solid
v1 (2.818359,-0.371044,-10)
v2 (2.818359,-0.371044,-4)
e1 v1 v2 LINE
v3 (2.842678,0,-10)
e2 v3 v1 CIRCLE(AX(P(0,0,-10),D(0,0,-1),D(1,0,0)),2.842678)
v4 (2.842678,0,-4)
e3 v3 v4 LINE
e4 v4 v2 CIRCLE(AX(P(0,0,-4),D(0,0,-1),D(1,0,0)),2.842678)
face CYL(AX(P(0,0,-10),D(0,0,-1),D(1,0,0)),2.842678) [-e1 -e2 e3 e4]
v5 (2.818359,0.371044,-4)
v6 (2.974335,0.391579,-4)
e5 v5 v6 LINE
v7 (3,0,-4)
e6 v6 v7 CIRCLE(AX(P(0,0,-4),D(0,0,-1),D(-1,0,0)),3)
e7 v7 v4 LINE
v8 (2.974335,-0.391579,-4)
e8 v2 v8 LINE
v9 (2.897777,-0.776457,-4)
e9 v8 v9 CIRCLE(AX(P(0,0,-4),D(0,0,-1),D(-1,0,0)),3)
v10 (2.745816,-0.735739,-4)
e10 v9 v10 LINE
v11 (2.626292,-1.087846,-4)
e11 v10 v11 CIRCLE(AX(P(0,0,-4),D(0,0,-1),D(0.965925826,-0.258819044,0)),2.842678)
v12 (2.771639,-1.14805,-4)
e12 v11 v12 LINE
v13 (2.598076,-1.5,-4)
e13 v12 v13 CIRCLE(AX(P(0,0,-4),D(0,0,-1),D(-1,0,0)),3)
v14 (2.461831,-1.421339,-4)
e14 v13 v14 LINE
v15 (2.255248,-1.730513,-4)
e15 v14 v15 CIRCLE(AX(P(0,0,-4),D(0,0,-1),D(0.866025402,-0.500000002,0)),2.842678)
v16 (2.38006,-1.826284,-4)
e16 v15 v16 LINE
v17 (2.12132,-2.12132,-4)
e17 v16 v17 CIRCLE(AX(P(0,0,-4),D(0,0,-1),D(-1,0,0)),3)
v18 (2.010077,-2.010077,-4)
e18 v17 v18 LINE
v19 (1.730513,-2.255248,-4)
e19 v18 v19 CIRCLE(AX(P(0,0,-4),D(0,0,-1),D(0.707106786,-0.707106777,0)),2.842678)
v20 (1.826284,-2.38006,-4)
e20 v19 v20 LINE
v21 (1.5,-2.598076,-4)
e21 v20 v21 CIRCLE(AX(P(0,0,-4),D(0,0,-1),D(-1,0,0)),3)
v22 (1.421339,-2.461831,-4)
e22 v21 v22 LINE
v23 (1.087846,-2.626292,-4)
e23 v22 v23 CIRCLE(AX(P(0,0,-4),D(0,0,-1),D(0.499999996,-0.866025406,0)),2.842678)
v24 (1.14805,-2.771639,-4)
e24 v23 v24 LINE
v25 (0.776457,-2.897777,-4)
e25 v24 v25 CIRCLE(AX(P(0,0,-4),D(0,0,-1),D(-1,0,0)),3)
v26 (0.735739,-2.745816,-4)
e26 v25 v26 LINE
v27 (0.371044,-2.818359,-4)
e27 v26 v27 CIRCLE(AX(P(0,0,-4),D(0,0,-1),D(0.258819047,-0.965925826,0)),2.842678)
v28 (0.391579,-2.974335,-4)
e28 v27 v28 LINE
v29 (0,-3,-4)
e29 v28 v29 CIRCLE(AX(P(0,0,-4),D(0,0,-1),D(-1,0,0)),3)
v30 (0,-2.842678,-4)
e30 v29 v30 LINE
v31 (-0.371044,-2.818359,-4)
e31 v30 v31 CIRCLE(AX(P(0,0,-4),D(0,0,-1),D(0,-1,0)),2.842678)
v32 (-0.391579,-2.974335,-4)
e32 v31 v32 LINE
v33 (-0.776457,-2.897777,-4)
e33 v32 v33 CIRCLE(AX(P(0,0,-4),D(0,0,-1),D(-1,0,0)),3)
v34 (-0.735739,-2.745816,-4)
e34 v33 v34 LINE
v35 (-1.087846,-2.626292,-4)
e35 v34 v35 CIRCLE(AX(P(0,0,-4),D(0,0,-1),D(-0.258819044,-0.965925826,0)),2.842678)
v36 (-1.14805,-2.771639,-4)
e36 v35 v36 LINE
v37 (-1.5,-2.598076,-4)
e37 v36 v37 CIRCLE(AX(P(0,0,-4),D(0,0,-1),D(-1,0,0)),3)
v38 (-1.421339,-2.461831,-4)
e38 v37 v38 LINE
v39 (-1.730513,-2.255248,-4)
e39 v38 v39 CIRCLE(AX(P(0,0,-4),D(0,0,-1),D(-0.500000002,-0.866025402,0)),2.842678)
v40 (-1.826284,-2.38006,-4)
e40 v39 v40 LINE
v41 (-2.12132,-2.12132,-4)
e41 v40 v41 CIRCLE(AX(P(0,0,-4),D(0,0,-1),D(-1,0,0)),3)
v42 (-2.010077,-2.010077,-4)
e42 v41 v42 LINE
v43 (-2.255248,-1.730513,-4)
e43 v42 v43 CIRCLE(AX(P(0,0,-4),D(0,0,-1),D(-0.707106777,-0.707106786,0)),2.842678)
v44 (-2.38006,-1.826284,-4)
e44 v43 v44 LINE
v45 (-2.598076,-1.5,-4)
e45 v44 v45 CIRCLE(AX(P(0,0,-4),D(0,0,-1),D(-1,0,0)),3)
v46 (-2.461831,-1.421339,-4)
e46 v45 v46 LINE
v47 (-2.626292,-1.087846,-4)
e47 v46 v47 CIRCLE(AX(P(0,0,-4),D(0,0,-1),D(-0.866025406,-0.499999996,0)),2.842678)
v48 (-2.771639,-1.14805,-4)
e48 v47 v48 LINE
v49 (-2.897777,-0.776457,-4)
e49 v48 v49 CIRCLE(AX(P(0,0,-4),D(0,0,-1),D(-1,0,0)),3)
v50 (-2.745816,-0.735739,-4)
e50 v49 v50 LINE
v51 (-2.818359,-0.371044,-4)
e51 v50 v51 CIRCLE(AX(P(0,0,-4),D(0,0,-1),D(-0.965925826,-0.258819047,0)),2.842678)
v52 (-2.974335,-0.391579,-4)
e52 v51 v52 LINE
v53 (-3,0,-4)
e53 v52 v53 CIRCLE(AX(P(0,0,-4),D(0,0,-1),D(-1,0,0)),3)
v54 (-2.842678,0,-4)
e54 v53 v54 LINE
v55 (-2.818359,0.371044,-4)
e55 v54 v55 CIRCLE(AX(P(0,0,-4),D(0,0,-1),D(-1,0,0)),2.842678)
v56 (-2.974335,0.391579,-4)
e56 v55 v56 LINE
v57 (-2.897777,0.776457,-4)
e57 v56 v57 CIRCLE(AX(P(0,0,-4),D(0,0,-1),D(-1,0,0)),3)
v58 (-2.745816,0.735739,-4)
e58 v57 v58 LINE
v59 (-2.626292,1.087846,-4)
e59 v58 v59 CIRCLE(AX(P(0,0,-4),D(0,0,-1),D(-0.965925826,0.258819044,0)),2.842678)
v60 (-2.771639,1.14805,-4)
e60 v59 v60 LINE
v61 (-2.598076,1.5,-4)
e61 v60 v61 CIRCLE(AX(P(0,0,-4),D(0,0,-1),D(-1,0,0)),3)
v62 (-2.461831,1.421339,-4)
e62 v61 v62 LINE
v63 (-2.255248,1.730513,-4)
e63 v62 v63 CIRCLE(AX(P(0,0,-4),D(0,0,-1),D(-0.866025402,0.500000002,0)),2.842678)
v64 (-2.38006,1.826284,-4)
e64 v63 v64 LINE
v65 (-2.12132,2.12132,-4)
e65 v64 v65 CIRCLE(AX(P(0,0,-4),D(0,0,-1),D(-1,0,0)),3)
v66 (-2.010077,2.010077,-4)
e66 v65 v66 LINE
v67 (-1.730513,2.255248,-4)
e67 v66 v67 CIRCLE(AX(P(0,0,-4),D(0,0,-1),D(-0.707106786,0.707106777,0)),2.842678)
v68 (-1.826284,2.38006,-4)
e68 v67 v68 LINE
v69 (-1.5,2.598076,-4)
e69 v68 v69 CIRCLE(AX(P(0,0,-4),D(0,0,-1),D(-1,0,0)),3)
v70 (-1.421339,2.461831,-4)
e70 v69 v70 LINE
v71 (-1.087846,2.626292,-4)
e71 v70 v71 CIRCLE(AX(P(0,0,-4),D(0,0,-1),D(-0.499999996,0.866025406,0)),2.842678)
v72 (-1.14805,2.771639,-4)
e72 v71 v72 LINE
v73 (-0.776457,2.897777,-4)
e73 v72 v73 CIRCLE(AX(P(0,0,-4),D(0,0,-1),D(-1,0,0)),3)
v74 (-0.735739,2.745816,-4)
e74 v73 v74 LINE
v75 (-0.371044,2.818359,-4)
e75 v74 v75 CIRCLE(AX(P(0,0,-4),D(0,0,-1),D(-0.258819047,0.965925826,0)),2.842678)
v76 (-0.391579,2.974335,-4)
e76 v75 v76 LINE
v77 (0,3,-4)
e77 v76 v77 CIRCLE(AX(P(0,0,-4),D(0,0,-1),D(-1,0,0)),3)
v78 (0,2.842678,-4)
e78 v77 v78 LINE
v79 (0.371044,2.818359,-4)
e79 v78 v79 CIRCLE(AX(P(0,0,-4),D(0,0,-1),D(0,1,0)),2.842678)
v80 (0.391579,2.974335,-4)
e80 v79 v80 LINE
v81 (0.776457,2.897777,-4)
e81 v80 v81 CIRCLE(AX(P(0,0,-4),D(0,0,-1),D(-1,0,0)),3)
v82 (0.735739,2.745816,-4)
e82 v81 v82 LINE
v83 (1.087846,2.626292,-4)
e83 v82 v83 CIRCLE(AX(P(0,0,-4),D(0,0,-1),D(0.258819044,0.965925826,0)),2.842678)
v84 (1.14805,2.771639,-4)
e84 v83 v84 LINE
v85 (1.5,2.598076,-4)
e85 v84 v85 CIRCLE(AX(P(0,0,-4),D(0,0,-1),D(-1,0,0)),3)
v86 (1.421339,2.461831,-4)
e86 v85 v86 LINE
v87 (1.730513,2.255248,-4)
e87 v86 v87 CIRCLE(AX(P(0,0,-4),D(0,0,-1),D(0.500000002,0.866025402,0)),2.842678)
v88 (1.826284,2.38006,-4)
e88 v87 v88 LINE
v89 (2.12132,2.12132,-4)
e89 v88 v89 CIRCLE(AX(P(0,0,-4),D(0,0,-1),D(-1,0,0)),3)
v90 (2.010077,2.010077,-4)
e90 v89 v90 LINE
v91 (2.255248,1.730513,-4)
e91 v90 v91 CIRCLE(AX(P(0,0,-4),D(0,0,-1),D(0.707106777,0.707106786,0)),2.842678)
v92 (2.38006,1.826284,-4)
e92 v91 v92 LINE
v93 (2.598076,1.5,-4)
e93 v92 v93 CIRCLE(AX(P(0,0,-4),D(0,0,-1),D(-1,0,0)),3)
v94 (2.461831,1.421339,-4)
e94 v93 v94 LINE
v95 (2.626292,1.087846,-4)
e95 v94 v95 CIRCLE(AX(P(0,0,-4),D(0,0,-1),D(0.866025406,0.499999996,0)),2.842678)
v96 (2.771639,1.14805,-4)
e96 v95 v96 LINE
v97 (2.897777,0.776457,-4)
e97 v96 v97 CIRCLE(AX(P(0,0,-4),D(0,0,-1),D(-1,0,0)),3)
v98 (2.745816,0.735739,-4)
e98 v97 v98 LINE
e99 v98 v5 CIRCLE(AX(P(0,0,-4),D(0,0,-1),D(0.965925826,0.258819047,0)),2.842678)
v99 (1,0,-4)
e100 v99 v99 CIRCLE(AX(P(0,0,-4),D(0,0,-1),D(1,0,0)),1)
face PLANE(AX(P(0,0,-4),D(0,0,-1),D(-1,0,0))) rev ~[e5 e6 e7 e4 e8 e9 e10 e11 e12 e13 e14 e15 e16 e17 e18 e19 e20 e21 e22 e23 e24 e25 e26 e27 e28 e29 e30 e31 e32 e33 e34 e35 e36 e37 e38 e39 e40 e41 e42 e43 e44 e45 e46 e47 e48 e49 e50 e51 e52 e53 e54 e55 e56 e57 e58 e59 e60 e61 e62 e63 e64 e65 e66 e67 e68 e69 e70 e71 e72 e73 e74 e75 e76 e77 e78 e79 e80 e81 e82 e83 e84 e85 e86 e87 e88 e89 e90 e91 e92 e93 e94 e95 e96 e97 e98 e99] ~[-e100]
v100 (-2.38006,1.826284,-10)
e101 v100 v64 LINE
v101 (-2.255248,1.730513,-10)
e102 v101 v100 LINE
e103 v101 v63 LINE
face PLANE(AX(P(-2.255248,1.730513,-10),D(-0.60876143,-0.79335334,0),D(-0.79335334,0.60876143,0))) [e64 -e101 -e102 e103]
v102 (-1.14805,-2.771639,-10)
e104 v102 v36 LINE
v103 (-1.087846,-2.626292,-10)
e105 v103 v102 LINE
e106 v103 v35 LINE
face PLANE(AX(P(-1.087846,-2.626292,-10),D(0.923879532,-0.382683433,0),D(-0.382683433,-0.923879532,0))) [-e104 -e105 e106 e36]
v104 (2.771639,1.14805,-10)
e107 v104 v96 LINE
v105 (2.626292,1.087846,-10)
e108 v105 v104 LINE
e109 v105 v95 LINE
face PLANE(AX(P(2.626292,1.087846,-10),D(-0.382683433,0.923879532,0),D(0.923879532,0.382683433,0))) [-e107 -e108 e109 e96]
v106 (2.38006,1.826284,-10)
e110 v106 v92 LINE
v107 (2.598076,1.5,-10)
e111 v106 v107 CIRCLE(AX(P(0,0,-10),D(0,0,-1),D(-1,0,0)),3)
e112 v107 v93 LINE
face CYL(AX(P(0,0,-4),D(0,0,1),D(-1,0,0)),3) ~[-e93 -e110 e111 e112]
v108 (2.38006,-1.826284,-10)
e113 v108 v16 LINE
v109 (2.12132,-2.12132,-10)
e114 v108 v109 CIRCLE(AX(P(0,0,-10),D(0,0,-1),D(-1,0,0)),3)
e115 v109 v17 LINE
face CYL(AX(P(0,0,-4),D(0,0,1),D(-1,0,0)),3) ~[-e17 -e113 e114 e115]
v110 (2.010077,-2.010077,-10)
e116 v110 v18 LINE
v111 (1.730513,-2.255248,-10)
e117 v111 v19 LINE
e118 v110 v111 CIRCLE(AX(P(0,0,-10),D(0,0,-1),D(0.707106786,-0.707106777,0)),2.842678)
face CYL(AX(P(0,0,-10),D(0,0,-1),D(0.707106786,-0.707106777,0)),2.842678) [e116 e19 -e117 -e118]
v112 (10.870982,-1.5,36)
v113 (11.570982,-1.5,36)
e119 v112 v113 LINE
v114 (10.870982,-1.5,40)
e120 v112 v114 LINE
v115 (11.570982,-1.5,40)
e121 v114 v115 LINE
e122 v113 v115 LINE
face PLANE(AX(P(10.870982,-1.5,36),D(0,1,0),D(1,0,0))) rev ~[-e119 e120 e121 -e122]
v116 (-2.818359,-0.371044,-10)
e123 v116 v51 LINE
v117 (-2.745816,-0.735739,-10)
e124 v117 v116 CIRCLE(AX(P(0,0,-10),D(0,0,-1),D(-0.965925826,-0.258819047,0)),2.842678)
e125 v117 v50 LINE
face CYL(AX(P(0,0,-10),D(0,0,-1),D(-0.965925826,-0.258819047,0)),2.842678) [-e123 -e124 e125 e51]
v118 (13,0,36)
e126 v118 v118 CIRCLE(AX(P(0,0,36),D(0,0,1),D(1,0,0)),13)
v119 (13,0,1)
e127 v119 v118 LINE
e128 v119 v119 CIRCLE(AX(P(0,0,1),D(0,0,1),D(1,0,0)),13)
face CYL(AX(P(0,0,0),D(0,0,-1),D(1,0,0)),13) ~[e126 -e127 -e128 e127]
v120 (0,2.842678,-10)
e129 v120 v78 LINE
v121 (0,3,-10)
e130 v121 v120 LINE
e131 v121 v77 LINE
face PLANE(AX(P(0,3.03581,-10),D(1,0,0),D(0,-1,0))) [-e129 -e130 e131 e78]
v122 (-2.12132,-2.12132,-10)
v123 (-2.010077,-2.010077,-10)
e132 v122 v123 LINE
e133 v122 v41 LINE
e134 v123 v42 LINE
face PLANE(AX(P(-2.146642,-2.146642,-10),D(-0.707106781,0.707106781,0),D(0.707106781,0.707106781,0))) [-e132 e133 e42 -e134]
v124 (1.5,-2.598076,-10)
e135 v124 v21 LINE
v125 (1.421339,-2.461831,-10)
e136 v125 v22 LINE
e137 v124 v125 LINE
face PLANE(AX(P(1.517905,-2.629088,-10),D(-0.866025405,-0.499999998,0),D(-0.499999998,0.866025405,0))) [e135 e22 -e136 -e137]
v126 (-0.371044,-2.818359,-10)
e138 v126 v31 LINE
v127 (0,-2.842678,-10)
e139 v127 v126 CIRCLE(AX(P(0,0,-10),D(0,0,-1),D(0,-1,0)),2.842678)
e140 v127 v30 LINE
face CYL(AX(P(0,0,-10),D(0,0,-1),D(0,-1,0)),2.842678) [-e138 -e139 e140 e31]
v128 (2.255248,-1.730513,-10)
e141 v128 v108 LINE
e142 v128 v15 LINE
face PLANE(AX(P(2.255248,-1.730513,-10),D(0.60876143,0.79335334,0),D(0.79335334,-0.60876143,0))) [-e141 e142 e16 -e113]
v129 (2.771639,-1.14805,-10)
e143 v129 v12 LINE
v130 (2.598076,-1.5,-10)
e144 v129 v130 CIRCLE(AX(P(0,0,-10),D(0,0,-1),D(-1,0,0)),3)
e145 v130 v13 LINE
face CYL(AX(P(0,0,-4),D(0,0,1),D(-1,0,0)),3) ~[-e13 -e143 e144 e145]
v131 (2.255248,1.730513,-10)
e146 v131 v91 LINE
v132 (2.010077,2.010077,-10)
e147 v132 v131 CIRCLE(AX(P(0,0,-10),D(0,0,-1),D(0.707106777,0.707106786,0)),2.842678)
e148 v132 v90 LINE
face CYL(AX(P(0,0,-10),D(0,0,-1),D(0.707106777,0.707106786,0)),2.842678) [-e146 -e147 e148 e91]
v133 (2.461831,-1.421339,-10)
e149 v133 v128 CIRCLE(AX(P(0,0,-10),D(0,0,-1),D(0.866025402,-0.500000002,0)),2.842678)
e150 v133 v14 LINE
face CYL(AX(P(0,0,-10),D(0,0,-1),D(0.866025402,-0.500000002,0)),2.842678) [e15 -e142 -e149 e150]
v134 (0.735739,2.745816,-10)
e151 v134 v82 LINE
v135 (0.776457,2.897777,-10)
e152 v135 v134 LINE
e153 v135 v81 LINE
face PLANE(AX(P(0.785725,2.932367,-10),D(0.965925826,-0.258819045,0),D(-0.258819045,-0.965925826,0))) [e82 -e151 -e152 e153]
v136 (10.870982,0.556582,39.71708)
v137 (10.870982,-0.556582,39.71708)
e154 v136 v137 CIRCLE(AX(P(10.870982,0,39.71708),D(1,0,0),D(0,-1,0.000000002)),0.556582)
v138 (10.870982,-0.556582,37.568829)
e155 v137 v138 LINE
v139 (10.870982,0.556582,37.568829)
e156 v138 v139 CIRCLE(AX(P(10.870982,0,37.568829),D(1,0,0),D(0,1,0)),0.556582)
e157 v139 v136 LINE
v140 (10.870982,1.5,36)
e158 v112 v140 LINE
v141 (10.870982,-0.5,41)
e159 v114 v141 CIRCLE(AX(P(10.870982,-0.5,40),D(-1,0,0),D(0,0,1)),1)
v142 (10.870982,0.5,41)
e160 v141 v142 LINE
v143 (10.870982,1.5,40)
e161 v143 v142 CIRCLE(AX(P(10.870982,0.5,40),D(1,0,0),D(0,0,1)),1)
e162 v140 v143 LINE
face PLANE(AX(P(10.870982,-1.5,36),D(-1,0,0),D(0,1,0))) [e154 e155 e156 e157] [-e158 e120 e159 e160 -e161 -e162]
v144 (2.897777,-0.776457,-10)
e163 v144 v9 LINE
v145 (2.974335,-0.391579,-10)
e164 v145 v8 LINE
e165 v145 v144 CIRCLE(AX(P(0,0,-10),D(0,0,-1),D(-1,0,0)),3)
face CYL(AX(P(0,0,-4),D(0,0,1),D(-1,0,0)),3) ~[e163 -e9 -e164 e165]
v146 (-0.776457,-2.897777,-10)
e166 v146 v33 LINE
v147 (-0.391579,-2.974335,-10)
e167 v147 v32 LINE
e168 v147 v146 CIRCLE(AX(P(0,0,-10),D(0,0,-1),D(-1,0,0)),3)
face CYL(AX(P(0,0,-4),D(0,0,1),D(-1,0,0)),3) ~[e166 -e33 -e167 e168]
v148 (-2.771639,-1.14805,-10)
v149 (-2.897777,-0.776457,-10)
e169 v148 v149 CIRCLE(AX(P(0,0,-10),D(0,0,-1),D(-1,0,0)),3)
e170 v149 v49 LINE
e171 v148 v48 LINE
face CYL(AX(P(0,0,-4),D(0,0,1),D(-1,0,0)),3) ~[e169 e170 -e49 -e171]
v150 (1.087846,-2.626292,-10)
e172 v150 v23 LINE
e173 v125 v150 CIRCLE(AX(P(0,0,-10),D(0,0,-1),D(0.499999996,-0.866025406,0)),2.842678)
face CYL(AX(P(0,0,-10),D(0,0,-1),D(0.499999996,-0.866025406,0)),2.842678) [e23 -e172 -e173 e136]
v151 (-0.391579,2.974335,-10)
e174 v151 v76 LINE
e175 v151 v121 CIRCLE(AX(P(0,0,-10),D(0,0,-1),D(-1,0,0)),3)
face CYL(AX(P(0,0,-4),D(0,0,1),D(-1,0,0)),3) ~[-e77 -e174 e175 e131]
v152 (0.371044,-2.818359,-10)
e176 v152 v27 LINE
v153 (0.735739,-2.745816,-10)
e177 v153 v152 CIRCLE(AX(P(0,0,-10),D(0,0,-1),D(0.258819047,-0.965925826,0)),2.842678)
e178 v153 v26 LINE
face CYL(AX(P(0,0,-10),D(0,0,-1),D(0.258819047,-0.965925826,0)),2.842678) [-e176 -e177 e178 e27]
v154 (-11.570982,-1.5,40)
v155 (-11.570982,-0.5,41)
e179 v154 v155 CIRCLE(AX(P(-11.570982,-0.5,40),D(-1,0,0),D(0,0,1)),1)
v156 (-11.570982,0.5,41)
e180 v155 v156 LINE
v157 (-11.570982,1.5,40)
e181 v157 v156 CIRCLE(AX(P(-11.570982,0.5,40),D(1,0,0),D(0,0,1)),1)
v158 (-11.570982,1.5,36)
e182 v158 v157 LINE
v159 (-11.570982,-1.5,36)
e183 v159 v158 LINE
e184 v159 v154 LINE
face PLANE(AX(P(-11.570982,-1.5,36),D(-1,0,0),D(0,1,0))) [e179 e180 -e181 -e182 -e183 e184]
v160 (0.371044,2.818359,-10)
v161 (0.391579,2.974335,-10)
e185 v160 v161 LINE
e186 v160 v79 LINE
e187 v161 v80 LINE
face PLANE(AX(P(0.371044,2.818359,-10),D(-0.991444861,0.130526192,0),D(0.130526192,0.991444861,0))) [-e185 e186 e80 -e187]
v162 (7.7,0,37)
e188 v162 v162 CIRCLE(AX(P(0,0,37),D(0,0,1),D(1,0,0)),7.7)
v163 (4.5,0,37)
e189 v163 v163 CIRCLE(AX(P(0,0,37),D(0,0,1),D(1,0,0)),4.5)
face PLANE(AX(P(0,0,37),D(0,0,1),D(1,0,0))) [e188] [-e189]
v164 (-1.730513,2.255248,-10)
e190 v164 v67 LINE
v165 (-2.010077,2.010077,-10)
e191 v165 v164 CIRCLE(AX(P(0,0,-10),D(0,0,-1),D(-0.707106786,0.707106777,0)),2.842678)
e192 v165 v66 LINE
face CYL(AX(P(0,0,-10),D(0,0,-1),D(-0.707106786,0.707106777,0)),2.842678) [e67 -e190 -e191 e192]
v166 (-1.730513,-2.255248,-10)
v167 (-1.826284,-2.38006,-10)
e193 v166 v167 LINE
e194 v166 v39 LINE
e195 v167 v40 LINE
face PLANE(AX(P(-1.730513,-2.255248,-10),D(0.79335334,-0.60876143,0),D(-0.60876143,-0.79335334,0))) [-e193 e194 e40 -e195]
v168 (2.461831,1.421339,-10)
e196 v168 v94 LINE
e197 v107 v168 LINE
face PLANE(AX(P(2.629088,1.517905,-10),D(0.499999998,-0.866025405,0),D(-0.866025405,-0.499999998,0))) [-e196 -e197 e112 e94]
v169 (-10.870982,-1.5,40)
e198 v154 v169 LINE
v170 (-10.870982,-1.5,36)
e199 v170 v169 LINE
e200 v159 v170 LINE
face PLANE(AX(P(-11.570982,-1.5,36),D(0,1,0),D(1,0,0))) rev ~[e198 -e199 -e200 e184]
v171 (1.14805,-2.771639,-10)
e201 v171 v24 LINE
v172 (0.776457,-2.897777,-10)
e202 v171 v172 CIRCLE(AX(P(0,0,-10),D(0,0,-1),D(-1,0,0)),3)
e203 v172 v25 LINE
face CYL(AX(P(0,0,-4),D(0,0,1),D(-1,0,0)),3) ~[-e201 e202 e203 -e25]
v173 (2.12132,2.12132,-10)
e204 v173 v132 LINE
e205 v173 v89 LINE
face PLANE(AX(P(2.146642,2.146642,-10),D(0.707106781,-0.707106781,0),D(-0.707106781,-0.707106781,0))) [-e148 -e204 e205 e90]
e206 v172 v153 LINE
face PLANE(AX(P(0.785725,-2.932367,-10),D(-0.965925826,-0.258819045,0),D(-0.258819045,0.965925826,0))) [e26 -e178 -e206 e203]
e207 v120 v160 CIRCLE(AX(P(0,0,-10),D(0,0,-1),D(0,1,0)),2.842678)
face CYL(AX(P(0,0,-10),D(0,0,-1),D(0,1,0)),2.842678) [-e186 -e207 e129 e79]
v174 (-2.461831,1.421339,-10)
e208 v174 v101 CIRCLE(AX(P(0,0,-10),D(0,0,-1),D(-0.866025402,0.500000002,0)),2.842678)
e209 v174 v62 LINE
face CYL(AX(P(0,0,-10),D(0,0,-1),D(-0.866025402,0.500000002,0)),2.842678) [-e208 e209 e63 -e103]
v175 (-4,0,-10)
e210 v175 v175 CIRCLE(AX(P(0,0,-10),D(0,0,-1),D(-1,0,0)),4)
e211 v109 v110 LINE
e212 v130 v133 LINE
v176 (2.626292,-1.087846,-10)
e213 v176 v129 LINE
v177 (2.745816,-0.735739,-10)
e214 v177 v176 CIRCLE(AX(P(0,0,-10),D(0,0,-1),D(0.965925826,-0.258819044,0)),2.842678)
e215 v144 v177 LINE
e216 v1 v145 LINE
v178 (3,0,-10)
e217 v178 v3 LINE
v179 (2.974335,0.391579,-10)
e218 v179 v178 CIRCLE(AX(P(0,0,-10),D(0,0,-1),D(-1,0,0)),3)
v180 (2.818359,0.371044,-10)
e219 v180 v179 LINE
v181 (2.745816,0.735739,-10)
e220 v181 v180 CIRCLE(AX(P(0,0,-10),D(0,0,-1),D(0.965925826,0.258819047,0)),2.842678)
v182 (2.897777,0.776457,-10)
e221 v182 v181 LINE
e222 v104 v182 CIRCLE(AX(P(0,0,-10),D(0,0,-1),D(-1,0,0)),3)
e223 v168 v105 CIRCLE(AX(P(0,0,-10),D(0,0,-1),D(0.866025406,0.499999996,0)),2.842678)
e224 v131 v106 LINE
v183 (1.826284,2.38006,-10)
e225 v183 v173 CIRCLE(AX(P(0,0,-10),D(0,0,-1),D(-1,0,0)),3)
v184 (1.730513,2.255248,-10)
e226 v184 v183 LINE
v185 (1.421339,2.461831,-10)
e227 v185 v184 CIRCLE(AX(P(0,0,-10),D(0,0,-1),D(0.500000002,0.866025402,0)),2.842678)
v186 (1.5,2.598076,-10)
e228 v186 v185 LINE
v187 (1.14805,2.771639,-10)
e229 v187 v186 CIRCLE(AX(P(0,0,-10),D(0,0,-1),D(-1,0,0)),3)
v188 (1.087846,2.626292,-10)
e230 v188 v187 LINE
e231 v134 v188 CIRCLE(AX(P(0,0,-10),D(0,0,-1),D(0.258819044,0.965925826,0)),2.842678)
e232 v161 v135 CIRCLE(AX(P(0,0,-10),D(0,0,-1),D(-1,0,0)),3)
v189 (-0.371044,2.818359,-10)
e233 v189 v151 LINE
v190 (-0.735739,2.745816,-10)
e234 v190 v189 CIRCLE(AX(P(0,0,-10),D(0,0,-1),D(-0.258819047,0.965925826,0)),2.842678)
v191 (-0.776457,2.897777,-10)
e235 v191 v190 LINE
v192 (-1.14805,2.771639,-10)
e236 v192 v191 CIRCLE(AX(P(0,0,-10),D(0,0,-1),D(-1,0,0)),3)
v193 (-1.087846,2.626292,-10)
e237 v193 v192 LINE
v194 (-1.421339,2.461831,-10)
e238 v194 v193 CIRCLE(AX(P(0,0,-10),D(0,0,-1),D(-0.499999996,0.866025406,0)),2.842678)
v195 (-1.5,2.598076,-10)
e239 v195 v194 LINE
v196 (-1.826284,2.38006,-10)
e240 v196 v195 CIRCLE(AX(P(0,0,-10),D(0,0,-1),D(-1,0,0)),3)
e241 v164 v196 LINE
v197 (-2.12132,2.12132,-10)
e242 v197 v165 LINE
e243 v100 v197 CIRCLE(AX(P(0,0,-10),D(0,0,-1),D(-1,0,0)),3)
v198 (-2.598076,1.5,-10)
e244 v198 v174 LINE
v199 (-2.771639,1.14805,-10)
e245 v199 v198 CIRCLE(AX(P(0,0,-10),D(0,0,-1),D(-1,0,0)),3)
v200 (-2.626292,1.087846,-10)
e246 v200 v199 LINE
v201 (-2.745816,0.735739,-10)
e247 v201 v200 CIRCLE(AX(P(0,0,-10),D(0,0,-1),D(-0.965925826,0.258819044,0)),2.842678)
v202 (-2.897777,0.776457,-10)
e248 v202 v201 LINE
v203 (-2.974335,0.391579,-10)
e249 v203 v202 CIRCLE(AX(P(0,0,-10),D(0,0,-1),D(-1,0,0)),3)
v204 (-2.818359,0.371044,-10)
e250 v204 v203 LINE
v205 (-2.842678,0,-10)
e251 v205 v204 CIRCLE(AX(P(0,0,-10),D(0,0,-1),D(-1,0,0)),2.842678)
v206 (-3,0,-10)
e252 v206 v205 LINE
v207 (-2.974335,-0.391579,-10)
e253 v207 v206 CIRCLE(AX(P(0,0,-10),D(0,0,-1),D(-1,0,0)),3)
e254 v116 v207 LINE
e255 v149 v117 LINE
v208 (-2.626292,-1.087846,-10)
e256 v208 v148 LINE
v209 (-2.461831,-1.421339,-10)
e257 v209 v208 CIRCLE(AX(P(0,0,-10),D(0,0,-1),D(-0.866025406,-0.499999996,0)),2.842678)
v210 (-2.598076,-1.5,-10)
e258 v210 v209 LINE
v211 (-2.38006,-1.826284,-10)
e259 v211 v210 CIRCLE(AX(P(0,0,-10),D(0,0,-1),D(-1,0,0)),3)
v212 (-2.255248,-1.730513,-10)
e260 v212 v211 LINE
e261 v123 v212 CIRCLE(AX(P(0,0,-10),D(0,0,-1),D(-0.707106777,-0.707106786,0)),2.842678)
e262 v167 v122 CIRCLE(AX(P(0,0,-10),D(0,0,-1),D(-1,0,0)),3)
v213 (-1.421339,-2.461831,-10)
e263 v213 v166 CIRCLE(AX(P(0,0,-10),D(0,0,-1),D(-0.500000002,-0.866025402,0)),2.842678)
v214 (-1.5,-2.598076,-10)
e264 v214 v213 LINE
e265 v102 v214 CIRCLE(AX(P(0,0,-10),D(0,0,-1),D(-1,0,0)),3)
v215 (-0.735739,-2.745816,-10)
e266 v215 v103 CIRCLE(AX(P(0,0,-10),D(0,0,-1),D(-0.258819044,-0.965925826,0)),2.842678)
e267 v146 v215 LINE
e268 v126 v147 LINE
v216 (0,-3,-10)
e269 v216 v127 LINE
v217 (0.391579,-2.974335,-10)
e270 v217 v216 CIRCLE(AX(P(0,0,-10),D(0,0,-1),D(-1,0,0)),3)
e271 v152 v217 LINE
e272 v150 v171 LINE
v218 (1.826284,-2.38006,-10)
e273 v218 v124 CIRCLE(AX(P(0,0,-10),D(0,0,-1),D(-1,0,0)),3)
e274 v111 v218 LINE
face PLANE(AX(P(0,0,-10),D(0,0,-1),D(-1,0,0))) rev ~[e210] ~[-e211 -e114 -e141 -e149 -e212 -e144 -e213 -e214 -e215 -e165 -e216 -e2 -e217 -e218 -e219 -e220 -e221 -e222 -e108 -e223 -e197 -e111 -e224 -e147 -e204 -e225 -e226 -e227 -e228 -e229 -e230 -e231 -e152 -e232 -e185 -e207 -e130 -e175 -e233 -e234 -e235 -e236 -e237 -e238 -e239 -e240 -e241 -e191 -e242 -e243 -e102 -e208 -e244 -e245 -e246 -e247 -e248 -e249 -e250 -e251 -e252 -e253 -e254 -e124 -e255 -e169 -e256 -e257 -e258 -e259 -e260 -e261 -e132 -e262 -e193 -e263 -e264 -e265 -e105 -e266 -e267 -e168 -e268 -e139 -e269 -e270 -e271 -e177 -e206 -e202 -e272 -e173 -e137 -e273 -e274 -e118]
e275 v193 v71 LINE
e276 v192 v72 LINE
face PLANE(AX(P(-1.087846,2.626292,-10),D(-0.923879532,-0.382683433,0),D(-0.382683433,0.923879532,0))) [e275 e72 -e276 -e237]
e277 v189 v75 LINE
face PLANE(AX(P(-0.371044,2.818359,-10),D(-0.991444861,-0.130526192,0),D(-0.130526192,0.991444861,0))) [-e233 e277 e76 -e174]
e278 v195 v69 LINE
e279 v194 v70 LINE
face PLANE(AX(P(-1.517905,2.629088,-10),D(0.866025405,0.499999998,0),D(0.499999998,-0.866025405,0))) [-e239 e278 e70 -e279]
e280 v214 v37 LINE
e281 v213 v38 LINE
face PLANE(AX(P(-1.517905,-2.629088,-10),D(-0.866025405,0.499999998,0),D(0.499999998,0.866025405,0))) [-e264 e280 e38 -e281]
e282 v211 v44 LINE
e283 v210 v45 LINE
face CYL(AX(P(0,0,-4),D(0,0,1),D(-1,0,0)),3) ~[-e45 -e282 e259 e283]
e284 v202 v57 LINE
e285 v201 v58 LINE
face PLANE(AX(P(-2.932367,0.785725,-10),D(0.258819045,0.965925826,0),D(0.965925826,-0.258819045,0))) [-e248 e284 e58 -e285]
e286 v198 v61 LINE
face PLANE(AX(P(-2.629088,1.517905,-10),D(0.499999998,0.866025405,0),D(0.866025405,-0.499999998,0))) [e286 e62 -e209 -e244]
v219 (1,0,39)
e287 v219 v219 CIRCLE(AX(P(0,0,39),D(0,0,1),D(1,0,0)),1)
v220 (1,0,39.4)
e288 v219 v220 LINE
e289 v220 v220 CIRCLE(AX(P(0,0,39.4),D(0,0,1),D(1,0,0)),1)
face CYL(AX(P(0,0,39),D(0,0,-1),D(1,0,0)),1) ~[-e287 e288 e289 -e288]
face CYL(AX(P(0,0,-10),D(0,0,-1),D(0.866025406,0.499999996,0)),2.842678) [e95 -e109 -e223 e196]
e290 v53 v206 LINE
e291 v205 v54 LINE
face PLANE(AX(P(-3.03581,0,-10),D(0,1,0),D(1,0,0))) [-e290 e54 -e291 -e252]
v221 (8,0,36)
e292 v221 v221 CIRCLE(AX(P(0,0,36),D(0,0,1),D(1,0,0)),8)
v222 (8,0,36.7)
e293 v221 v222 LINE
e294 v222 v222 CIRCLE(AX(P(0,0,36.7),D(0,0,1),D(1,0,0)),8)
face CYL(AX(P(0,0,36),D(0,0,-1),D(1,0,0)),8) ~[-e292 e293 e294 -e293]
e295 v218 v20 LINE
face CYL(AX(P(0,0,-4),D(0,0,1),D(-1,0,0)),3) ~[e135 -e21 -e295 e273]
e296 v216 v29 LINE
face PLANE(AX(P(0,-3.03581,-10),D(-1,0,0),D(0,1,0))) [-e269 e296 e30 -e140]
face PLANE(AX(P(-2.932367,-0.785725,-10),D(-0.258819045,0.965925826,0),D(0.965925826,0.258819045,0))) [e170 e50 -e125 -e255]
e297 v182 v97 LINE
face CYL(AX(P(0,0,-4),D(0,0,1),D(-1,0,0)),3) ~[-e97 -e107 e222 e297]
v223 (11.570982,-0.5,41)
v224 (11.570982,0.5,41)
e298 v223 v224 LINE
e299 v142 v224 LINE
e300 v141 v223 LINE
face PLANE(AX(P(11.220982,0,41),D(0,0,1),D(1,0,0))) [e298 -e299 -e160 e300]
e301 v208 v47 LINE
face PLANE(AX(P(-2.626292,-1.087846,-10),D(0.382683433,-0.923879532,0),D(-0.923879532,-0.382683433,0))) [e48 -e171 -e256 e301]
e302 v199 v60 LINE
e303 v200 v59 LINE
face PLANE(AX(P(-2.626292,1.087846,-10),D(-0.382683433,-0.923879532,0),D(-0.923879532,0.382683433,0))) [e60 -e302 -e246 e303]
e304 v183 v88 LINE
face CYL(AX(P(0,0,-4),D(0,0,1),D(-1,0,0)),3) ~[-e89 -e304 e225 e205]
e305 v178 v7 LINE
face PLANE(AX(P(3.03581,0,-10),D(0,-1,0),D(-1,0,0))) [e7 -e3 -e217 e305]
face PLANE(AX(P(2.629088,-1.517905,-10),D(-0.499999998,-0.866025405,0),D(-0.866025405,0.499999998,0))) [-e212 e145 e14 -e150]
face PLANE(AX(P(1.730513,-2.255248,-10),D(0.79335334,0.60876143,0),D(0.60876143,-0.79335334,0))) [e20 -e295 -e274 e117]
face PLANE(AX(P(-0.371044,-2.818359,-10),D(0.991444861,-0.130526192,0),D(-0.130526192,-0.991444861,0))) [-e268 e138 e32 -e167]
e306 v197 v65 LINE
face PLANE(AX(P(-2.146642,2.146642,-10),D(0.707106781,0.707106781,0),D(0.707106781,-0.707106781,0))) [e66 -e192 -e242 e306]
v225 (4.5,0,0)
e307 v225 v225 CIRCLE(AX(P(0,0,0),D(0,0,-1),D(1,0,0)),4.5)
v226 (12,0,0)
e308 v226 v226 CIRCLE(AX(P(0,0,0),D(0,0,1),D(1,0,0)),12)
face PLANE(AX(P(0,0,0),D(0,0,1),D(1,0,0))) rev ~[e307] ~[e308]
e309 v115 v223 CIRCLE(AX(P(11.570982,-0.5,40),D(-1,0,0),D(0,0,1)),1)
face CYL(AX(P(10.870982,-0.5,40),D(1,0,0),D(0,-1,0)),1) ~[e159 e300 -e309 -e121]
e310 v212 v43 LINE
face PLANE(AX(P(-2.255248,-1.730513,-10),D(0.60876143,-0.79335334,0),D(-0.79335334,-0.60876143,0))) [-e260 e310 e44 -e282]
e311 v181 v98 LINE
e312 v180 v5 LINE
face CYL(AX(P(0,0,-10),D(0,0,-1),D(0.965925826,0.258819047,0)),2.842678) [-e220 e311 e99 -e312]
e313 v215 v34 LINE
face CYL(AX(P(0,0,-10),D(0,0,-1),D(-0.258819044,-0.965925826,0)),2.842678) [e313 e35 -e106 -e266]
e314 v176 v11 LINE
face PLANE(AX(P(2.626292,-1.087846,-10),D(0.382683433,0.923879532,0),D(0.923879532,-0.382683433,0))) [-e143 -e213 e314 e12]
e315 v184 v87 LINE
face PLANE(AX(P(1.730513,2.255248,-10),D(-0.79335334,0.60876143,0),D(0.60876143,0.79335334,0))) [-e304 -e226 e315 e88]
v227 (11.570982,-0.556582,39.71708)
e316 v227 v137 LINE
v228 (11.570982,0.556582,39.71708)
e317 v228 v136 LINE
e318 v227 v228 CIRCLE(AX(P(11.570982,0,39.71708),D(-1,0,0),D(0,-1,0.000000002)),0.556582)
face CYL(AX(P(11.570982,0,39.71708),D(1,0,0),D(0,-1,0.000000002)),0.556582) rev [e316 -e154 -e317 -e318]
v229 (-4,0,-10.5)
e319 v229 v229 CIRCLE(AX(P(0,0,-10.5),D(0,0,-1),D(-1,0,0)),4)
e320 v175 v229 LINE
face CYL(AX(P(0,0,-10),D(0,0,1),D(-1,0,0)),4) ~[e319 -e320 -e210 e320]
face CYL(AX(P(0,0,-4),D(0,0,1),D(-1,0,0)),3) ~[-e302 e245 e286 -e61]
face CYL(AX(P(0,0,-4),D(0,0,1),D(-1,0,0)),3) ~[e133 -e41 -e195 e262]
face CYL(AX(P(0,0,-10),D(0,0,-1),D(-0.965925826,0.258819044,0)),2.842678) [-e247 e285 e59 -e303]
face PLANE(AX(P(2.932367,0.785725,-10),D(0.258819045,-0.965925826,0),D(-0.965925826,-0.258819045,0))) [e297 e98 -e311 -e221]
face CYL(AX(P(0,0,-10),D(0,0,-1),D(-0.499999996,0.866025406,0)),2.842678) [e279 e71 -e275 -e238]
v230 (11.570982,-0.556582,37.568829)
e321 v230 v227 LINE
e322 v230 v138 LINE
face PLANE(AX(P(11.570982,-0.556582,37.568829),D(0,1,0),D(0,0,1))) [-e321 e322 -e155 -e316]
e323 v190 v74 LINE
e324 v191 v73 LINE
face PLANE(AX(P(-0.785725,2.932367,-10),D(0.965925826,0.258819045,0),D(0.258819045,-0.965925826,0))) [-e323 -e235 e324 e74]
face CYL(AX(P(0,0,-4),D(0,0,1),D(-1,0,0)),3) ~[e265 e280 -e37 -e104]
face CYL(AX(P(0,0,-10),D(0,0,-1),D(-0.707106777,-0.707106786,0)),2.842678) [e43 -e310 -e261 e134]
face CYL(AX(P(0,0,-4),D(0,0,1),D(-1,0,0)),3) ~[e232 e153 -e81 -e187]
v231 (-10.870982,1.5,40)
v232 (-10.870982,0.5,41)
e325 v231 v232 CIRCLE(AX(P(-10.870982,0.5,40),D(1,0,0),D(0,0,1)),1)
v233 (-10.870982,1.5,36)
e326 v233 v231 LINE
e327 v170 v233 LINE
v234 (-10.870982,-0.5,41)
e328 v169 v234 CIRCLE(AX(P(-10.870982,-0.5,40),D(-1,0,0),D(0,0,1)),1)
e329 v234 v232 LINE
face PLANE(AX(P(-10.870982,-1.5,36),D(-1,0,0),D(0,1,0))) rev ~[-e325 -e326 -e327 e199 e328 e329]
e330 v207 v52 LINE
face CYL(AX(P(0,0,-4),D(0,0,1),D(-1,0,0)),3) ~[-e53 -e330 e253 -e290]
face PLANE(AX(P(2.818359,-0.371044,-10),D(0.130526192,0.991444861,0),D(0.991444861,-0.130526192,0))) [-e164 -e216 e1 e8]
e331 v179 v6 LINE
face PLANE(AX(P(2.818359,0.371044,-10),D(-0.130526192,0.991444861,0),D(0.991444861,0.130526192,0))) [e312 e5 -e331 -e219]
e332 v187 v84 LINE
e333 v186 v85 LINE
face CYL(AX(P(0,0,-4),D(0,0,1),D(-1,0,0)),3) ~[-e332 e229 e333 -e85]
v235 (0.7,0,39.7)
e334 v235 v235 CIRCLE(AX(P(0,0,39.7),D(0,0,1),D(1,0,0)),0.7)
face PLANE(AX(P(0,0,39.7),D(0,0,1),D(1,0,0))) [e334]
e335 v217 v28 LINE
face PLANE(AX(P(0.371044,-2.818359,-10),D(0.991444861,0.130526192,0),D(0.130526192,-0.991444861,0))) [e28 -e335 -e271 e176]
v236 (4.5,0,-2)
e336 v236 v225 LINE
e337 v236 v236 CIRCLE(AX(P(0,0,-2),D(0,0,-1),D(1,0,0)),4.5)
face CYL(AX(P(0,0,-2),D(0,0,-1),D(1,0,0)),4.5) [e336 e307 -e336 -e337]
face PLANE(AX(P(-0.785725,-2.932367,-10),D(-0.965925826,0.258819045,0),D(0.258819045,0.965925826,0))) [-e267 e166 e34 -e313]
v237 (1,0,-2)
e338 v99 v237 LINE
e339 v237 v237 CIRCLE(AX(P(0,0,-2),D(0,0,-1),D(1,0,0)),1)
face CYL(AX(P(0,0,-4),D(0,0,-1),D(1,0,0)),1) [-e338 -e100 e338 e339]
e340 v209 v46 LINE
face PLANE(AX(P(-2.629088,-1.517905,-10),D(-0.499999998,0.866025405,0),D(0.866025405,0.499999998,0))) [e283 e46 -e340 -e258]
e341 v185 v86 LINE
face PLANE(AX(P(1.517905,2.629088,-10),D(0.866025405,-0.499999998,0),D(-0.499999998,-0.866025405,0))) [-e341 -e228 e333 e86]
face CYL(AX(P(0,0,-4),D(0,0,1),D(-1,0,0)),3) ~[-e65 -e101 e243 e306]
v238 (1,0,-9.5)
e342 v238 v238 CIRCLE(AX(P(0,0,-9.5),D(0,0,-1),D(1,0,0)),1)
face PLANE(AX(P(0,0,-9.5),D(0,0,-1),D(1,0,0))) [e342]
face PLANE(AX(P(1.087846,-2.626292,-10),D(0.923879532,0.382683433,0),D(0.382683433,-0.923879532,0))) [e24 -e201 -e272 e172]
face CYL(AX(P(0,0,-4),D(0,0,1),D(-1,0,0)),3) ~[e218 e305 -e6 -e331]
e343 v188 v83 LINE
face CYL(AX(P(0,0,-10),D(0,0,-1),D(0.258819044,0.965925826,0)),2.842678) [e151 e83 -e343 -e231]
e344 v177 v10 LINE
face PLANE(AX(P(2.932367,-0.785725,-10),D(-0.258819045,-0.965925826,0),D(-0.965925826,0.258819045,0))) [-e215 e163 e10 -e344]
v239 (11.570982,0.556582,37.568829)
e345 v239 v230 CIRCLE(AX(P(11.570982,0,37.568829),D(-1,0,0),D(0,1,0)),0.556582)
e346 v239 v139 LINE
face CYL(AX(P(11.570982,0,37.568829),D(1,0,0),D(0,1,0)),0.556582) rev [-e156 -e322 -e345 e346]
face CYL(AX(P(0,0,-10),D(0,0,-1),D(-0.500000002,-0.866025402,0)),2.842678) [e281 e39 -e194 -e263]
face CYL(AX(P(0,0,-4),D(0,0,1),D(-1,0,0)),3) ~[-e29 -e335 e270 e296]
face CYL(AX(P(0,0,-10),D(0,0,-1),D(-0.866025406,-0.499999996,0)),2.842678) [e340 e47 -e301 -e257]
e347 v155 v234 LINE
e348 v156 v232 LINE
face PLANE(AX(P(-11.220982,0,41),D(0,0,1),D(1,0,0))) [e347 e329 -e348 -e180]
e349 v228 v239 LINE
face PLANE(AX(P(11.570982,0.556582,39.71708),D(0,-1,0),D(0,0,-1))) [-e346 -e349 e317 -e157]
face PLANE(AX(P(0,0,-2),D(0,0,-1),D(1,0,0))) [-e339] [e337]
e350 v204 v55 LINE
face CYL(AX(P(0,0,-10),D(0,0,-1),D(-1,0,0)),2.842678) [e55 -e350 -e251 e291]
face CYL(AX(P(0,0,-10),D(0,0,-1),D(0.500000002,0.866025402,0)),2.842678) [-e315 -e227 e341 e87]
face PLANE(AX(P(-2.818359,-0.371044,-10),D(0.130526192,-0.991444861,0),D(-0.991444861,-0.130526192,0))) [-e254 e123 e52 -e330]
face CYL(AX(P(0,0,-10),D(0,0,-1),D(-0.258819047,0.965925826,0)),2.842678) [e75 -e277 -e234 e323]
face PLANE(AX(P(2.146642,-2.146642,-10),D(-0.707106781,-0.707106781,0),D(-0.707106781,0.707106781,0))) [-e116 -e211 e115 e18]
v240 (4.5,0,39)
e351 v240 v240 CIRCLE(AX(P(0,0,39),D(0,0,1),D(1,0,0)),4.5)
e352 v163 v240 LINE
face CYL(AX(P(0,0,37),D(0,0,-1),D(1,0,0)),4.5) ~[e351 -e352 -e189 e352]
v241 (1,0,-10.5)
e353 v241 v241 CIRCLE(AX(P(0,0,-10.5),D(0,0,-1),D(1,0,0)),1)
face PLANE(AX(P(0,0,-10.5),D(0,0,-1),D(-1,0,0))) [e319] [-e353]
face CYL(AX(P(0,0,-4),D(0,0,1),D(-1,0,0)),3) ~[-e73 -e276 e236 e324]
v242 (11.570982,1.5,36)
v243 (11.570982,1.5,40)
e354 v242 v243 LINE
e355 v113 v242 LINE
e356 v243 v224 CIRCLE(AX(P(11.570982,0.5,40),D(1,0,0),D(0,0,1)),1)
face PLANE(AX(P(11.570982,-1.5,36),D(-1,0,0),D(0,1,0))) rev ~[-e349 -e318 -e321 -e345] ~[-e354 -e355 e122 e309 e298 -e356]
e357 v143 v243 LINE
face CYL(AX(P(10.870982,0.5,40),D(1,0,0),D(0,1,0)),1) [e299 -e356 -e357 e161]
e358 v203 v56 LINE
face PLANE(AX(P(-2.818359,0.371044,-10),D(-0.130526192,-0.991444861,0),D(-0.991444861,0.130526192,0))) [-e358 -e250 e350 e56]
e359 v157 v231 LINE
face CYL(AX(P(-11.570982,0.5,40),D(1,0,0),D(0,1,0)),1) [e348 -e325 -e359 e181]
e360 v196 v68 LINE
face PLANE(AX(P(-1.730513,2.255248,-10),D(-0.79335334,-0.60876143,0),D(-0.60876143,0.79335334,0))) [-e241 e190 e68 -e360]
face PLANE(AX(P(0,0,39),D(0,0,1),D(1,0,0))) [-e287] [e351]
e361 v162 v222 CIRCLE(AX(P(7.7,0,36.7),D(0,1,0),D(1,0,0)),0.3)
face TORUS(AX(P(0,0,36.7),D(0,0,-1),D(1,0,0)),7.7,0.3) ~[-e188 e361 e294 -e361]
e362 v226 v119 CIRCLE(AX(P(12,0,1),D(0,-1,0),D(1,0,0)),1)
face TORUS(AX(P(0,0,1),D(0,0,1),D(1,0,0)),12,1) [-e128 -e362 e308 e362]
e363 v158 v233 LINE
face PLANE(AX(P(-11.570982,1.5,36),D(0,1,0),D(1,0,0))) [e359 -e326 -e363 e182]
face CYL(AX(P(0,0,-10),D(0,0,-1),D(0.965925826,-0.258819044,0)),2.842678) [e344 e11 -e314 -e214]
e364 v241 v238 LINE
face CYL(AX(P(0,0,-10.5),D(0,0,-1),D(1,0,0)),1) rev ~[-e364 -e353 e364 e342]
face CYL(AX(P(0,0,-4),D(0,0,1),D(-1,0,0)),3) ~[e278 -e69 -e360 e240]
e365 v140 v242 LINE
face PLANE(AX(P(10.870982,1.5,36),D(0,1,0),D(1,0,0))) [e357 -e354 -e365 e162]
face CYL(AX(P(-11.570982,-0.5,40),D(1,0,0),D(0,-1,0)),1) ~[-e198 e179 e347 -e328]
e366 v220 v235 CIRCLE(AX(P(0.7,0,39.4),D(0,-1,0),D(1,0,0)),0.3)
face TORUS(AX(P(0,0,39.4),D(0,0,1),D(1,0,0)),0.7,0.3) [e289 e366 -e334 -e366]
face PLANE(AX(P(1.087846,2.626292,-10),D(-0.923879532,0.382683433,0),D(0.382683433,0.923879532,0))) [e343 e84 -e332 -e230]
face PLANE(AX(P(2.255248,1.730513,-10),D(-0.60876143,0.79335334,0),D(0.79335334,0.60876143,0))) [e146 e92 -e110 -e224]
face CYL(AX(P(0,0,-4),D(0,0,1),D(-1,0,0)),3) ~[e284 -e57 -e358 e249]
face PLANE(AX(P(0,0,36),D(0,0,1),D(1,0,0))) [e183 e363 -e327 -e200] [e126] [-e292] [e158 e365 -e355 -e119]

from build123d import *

# Parameters (mm, degrees)
SKETCH1_R           = 13
BOSS_EXTRUDE1_DEPTH = 36
SKETCH2_R           = 8
BOSS_EXTRUDE2_DEPTH = 1
SKETCH3_R           = 4.5
BOSS_EXTRUDE3_DEPTH = 2
SKETCH4_R           = 1
BOSS_EXTRUDE4_DEPTH = 0.7
FILLET1_R           = 0.3
FILLET2_R           = 0.3
SKETCH5_W           = 0.7
SKETCH5_H           = 3
BOSS_EXTRUDE5_DEPTH = 5
FILLET3_R           = 1
FILLET4_R           = 1
CUT_EXTRUDE1_DEPTH  = 5
BOSS_EXTRUDE6_START = 2
SKETCH8_R           = 4.5
BOSS_EXTRUDE6_DEPTH = 2
BOSS_EXTRUDE7_START = 2
SKETCH9_R           = 1
BOSS_EXTRUDE7_DEPTH = 2
SKETCH10_R          = 3
BOSS_EXTRUDE8_DEPTH = 6
CUT_EXTRUDE2_DEPTH  = 8
SKETCH12_R          = 4
BOSS_EXTRUDE9_DEPTH = 0.5
SKETCH13_R          = 1
CUT_EXTRUDE3_DEPTH  = 1
FILLET5_R           = 1


with BuildPart() as part:
    # Sketch1 → Boss-Extrude1 (new body)
    with BuildSketch(Plane.XY):
        Circle(SKETCH1_R)
    extrude(amount=BOSS_EXTRUDE1_DEPTH)

    # Sketch2 → Boss-Extrude2 (add)
    with BuildSketch(Plane.XY.offset(36)):
        Circle(SKETCH2_R)
    extrude(amount=BOSS_EXTRUDE2_DEPTH)

    # Sketch3 → Boss-Extrude3 (add)
    with BuildSketch(Plane.XY.offset(37)):
        Circle(SKETCH3_R)
    extrude(amount=BOSS_EXTRUDE3_DEPTH)

    # Sketch4 → Boss-Extrude4 (add)
    with BuildSketch(Plane.XY.offset(39)):
        Circle(SKETCH4_R)
    extrude(amount=BOSS_EXTRUDE4_DEPTH)

    # Fillet1
    fillet1_edges = [part.edges().sort_by_distance(p)[0] for p in [
        (-1, 0, 39.7),
    ]]
    fillet(fillet1_edges, radius=FILLET1_R)

    # Fillet2
    fillet2_edges = [part.edges().sort_by_distance(p)[0] for p in [
        (-8, 0, 37),
    ]]
    fillet(fillet2_edges, radius=FILLET2_R)

    # Sketch5 → Boss-Extrude5 (add)
    with BuildSketch(Plane.XY.offset(36)):
        with Locations((-11.220982421, 0)):
            Rectangle(SKETCH5_W, SKETCH5_H)
        with Locations((11.220982421, 0)):
            Rectangle(SKETCH5_W, SKETCH5_H)
    extrude(amount=BOSS_EXTRUDE5_DEPTH)

    # Fillet3
    fillet3_edges = [part.edges().sort_by_distance(p)[0] for p in [
        (11.220982421, -1.5, 41),
        (11.220982421, 1.5, 41),
    ]]
    fillet(fillet3_edges, radius=FILLET3_R)

    # Fillet4
    fillet4_edges = [part.edges().sort_by_distance(p)[0] for p in [
        (-11.220982421, 1.5, 41),
        (-11.220982421, -1.5, 41),
    ]]
    fillet(fillet4_edges, radius=FILLET4_R)

    # Sketch7 → Cut-Extrude1 (cut)
    with BuildSketch(Plane(origin=(11.570982421, 0, 0), x_dir=(0, 0, -1), z_dir=(1, 0, 0))):
        with BuildLine():
            Line((-37.568828758, -0.556582473), (-39.717079544, -0.556582473))
            ThreePointArc((-39.717079544, -0.556582473), (-40.273662016, 0), (-39.717079544, 0.556582473))
            Line((-39.717079544, 0.556582473), (-37.568828758, 0.556582473))
            ThreePointArc((-37.568828758, 0.556582473), (-37.012246285, 0), (-37.568828758, -0.556582473))
        make_face()
    extrude(amount=-CUT_EXTRUDE1_DEPTH, mode=Mode.SUBTRACT)

    # Sketch8 → Boss-Extrude6 (add)
    with BuildSketch(Plane(origin=(0, 0, 0), x_dir=(-1, 0, 0), z_dir=(0, 0, -1)).offset(BOSS_EXTRUDE6_START)):
        with Locations(Location((0, 0, 0), (0, 0, 180))):
            Circle(SKETCH8_R)
    extrude(amount=-BOSS_EXTRUDE6_DEPTH)

    # Sketch9 → Boss-Extrude7 (add)
    with BuildSketch(Plane(origin=(0, 0, -2), x_dir=(-1, 0, 0), z_dir=(0, 0, -1)).offset(BOSS_EXTRUDE7_START)):
        with Locations(Location((0, 0, 0), (0, 0, 180))):
            Circle(SKETCH9_R)
    extrude(amount=-BOSS_EXTRUDE7_DEPTH)

    # Sketch10 → Boss-Extrude8 (add)
    with BuildSketch(Plane(origin=(0, 0, -4), x_dir=(-1, 0, 0), z_dir=(0, 0, -1))):
        Circle(SKETCH10_R)
    extrude(amount=BOSS_EXTRUDE8_DEPTH)

    # Sketch11 → Cut-Extrude2 (cut)
    with BuildSketch(Plane(origin=(0, 0, -10), x_dir=(-1, 0, 0), z_dir=(0, 0, -1))):
        with BuildLine():
            Line((0, 3.035809854), (0, 2.842678039))
            ThreePointArc((0, 2.842678039), (-0.185920039, 2.836591647), (-0.37104394, 2.818358534))
            Line((-0.37104394, 2.818358534), (-0.408370483, 3.101881777))
            Line((-0.408370483, 3.101881777), (0, 3.035809854))
        make_face()
        with BuildLine():
            Line((0.785725408, 2.932367142), (0.735739216, 2.745816134))
            ThreePointArc((0.735739216, 2.745816134), (0.554578974, 2.788056778), (0.37104394, 2.818358534))
            Line((0.37104394, 2.818358534), (0.408370483, 3.101881777))
            Line((0.408370483, 3.101881777), (0.785725408, 2.932367142))
        make_face()
        with BuildLine():
            Line((1.517904927, 2.629088455), (1.42133902, 2.461831397))
            ThreePointArc((1.42133902, 2.461831397), (1.257284347, 2.549520446), (1.087845789, 2.626292058))
            Line((1.087845789, 2.626292058), (1.197281676, 2.89049366))
            Line((1.197281676, 2.89049366), (1.517904927, 2.629088455))
        make_face()
        with BuildLine():
            Line((2.146641734, 2.146641734), (2.010076918, 2.010076918))
            ThreePointArc((2.010076918, 2.010076918), (1.874307869, 2.13723851), (1.730512745, 2.255248118))
            Line((1.730512745, 2.255248118), (1.904600101, 2.482123177))
            Line((1.904600101, 2.482123177), (2.146641734, 2.146641734))
        make_face()
        with BuildLine():
            Line((2.629088455, 1.517904927), (2.461831397, 1.42133902))
            ThreePointArc((2.461831397, 1.42133902), (2.363600407, 1.579307301), (2.255248118, 1.730512745))
            Line((2.255248118, 1.730512745), (2.482123177, 1.904600101))
            Line((2.482123177, 1.904600101), (2.629088455, 1.517904927))
        make_face()
        with BuildLine():
            Line((2.932367142, 0.785725408), (2.745816134, 0.735739216))
            ThreePointArc((2.745816134, 0.735739216), (2.691817484, 0.913748909), (2.626292058, 1.087845789))
            Line((2.626292058, 1.087845789), (2.89049366, 1.197281676))
            Line((2.89049366, 1.197281676), (2.932367142, 0.785725408))
        make_face()
        with BuildLine():
            Line((3.035809854, 0), (2.842678039, 0))
            ThreePointArc((2.842678039, 0), (2.836591647, 0.185920039), (2.818358534, 0.37104394))
            Line((2.818358534, 0.37104394), (3.101881777, 0.408370483))
            Line((3.101881777, 0.408370483), (3.035809854, 0))
        make_face()
        with BuildLine():
            Line((2.932367142, -0.785725408), (2.745816134, -0.735739216))
            ThreePointArc((2.745816134, -0.735739216), (2.788056778, -0.554578974), (2.818358534, -0.37104394))
            Line((2.818358534, -0.37104394), (3.101881777, -0.408370483))
            Line((3.101881777, -0.408370483), (2.932367142, -0.785725408))
        make_face()
        with BuildLine():
            Line((2.629088455, -1.517904927), (2.461831397, -1.42133902))
            ThreePointArc((2.461831397, -1.42133902), (2.549520446, -1.257284347), (2.626292058, -1.087845789))
            Line((2.626292058, -1.087845789), (2.89049366, -1.197281676))
            Line((2.89049366, -1.197281676), (2.629088455, -1.517904927))
        make_face()
        with BuildLine():
            Line((2.146641734, -2.146641734), (2.010076918, -2.010076918))
            ThreePointArc((2.010076918, -2.010076918), (2.13723851, -1.874307869), (2.255248118, -1.730512745))
            Line((2.255248118, -1.730512745), (2.482123177, -1.904600101))
            Line((2.482123177, -1.904600101), (2.146641734, -2.146641734))
        make_face()
        with BuildLine():
            Line((1.517904927, -2.629088455), (1.42133902, -2.461831397))
            ThreePointArc((1.42133902, -2.461831397), (1.579307301, -2.363600407), (1.730512745, -2.255248118))
            Line((1.730512745, -2.255248118), (1.904600101, -2.482123177))
            Line((1.904600101, -2.482123177), (1.517904927, -2.629088455))
        make_face()
        with BuildLine():
            Line((0.785725408, -2.932367142), (0.735739216, -2.745816134))
            ThreePointArc((0.735739216, -2.745816134), (0.913748909, -2.691817484), (1.087845789, -2.626292058))
            Line((1.087845789, -2.626292058), (1.197281676, -2.89049366))
            Line((1.197281676, -2.89049366), (0.785725408, -2.932367142))
        make_face()
        with BuildLine():
            Line((0, -3.035809854), (0, -2.842678039))
            ThreePointArc((0, -2.842678039), (0.185920039, -2.836591647), (0.37104394, -2.818358534))
            Line((0.37104394, -2.818358534), (0.408370483, -3.101881777))
            Line((0.408370483, -3.101881777), (0, -3.035809854))
        make_face()
        with BuildLine():
            Line((-0.785725408, -2.932367142), (-0.735739216, -2.745816134))
            ThreePointArc((-0.735739216, -2.745816134), (-0.554578974, -2.788056778), (-0.37104394, -2.818358534))
            Line((-0.37104394, -2.818358534), (-0.408370483, -3.101881777))
            Line((-0.408370483, -3.101881777), (-0.785725408, -2.932367142))
        make_face()
        with BuildLine():
            Line((-1.517904927, -2.629088455), (-1.42133902, -2.461831397))
            ThreePointArc((-1.42133902, -2.461831397), (-1.257284347, -2.549520446), (-1.087845789, -2.626292058))
            Line((-1.087845789, -2.626292058), (-1.197281676, -2.89049366))
            Line((-1.197281676, -2.89049366), (-1.517904927, -2.629088455))
        make_face()
        with BuildLine():
            Line((-2.146641734, -2.146641734), (-2.010076918, -2.010076918))
            ThreePointArc((-2.010076918, -2.010076918), (-1.874307869, -2.13723851), (-1.730512745, -2.255248118))
            Line((-1.730512745, -2.255248118), (-1.904600101, -2.482123177))
            Line((-1.904600101, -2.482123177), (-2.146641734, -2.146641734))
        make_face()
        with BuildLine():
            Line((-2.629088455, -1.517904927), (-2.461831397, -1.42133902))
            ThreePointArc((-2.461831397, -1.42133902), (-2.363600407, -1.579307301), (-2.255248118, -1.730512745))
            Line((-2.255248118, -1.730512745), (-2.482123177, -1.904600101))
            Line((-2.482123177, -1.904600101), (-2.629088455, -1.517904927))
        make_face()
        with BuildLine():
            Line((-2.932367142, -0.785725408), (-2.745816134, -0.735739216))
            ThreePointArc((-2.745816134, -0.735739216), (-2.691817484, -0.913748909), (-2.626292058, -1.087845789))
            Line((-2.626292058, -1.087845789), (-2.89049366, -1.197281676))
            Line((-2.89049366, -1.197281676), (-2.932367142, -0.785725408))
        make_face()
        with BuildLine():
            Line((-3.035809854, 0), (-2.842678039, 0))
            ThreePointArc((-2.842678039, 0), (-2.836591647, -0.185920039), (-2.818358534, -0.37104394))
            Line((-2.818358534, -0.37104394), (-3.101881777, -0.408370483))
            Line((-3.101881777, -0.408370483), (-3.035809854, 0))
        make_face()
        with BuildLine():
            Line((-2.932367142, 0.785725408), (-2.745816134, 0.735739216))
            ThreePointArc((-2.745816134, 0.735739216), (-2.788056778, 0.554578974), (-2.818358534, 0.37104394))
            Line((-2.818358534, 0.37104394), (-3.101881777, 0.408370483))
            Line((-3.101881777, 0.408370483), (-2.932367142, 0.785725408))
        make_face()
        with BuildLine():
            Line((-2.629088455, 1.517904927), (-2.461831397, 1.42133902))
            ThreePointArc((-2.461831397, 1.42133902), (-2.549520446, 1.257284347), (-2.626292058, 1.087845789))
            Line((-2.626292058, 1.087845789), (-2.89049366, 1.197281676))
            Line((-2.89049366, 1.197281676), (-2.629088455, 1.517904927))
        make_face()
        with BuildLine():
            Line((-2.146641734, 2.146641734), (-2.010076918, 2.010076918))
            ThreePointArc((-2.010076918, 2.010076918), (-2.13723851, 1.874307869), (-2.255248118, 1.730512745))
            Line((-2.255248118, 1.730512745), (-2.482123177, 1.904600101))
            Line((-2.482123177, 1.904600101), (-2.146641734, 2.146641734))
        make_face()
        with BuildLine():
            Line((-1.517904927, 2.629088455), (-1.42133902, 2.461831397))
            ThreePointArc((-1.42133902, 2.461831397), (-1.579307301, 2.363600407), (-1.730512745, 2.255248118))
            Line((-1.730512745, 2.255248118), (-1.904600101, 2.482123177))
            Line((-1.904600101, 2.482123177), (-1.517904927, 2.629088455))
        make_face()
        with BuildLine():
            Line((-0.785725408, 2.932367142), (-0.735739216, 2.745816134))
            ThreePointArc((-0.735739216, 2.745816134), (-0.913748909, 2.691817484), (-1.087845789, 2.626292058))
            Line((-1.087845789, 2.626292058), (-1.197281676, 2.89049366))
            Line((-1.197281676, 2.89049366), (-0.785725408, 2.932367142))
        make_face()
    extrude(amount=-CUT_EXTRUDE2_DEPTH, mode=Mode.SUBTRACT)

    # Sketch12 → Boss-Extrude9 (add)
    with BuildSketch(Plane(origin=(0, 0, -10), x_dir=(-1, 0, 0), z_dir=(0, 0, -1))):
        Circle(SKETCH12_R)
    extrude(amount=BOSS_EXTRUDE9_DEPTH)

    # Sketch13 → Cut-Extrude3 (cut)
    with BuildSketch(Plane(origin=(0, 0, -10.5), x_dir=(-1, 0, 0), z_dir=(0, 0, -1))):
        with Locations(Location((0, 0, 0), (0, 0, 180))):
            Circle(SKETCH13_R)
    extrude(amount=-CUT_EXTRUDE3_DEPTH, mode=Mode.SUBTRACT)

    # Fillet5
    fillet5_edges = [part.edges().sort_by_distance(p)[0] for p in [
        (-13, 0, 0),
    ]]
    fillet(fillet5_edges, radius=FILLET5_R)


solid = part.part
